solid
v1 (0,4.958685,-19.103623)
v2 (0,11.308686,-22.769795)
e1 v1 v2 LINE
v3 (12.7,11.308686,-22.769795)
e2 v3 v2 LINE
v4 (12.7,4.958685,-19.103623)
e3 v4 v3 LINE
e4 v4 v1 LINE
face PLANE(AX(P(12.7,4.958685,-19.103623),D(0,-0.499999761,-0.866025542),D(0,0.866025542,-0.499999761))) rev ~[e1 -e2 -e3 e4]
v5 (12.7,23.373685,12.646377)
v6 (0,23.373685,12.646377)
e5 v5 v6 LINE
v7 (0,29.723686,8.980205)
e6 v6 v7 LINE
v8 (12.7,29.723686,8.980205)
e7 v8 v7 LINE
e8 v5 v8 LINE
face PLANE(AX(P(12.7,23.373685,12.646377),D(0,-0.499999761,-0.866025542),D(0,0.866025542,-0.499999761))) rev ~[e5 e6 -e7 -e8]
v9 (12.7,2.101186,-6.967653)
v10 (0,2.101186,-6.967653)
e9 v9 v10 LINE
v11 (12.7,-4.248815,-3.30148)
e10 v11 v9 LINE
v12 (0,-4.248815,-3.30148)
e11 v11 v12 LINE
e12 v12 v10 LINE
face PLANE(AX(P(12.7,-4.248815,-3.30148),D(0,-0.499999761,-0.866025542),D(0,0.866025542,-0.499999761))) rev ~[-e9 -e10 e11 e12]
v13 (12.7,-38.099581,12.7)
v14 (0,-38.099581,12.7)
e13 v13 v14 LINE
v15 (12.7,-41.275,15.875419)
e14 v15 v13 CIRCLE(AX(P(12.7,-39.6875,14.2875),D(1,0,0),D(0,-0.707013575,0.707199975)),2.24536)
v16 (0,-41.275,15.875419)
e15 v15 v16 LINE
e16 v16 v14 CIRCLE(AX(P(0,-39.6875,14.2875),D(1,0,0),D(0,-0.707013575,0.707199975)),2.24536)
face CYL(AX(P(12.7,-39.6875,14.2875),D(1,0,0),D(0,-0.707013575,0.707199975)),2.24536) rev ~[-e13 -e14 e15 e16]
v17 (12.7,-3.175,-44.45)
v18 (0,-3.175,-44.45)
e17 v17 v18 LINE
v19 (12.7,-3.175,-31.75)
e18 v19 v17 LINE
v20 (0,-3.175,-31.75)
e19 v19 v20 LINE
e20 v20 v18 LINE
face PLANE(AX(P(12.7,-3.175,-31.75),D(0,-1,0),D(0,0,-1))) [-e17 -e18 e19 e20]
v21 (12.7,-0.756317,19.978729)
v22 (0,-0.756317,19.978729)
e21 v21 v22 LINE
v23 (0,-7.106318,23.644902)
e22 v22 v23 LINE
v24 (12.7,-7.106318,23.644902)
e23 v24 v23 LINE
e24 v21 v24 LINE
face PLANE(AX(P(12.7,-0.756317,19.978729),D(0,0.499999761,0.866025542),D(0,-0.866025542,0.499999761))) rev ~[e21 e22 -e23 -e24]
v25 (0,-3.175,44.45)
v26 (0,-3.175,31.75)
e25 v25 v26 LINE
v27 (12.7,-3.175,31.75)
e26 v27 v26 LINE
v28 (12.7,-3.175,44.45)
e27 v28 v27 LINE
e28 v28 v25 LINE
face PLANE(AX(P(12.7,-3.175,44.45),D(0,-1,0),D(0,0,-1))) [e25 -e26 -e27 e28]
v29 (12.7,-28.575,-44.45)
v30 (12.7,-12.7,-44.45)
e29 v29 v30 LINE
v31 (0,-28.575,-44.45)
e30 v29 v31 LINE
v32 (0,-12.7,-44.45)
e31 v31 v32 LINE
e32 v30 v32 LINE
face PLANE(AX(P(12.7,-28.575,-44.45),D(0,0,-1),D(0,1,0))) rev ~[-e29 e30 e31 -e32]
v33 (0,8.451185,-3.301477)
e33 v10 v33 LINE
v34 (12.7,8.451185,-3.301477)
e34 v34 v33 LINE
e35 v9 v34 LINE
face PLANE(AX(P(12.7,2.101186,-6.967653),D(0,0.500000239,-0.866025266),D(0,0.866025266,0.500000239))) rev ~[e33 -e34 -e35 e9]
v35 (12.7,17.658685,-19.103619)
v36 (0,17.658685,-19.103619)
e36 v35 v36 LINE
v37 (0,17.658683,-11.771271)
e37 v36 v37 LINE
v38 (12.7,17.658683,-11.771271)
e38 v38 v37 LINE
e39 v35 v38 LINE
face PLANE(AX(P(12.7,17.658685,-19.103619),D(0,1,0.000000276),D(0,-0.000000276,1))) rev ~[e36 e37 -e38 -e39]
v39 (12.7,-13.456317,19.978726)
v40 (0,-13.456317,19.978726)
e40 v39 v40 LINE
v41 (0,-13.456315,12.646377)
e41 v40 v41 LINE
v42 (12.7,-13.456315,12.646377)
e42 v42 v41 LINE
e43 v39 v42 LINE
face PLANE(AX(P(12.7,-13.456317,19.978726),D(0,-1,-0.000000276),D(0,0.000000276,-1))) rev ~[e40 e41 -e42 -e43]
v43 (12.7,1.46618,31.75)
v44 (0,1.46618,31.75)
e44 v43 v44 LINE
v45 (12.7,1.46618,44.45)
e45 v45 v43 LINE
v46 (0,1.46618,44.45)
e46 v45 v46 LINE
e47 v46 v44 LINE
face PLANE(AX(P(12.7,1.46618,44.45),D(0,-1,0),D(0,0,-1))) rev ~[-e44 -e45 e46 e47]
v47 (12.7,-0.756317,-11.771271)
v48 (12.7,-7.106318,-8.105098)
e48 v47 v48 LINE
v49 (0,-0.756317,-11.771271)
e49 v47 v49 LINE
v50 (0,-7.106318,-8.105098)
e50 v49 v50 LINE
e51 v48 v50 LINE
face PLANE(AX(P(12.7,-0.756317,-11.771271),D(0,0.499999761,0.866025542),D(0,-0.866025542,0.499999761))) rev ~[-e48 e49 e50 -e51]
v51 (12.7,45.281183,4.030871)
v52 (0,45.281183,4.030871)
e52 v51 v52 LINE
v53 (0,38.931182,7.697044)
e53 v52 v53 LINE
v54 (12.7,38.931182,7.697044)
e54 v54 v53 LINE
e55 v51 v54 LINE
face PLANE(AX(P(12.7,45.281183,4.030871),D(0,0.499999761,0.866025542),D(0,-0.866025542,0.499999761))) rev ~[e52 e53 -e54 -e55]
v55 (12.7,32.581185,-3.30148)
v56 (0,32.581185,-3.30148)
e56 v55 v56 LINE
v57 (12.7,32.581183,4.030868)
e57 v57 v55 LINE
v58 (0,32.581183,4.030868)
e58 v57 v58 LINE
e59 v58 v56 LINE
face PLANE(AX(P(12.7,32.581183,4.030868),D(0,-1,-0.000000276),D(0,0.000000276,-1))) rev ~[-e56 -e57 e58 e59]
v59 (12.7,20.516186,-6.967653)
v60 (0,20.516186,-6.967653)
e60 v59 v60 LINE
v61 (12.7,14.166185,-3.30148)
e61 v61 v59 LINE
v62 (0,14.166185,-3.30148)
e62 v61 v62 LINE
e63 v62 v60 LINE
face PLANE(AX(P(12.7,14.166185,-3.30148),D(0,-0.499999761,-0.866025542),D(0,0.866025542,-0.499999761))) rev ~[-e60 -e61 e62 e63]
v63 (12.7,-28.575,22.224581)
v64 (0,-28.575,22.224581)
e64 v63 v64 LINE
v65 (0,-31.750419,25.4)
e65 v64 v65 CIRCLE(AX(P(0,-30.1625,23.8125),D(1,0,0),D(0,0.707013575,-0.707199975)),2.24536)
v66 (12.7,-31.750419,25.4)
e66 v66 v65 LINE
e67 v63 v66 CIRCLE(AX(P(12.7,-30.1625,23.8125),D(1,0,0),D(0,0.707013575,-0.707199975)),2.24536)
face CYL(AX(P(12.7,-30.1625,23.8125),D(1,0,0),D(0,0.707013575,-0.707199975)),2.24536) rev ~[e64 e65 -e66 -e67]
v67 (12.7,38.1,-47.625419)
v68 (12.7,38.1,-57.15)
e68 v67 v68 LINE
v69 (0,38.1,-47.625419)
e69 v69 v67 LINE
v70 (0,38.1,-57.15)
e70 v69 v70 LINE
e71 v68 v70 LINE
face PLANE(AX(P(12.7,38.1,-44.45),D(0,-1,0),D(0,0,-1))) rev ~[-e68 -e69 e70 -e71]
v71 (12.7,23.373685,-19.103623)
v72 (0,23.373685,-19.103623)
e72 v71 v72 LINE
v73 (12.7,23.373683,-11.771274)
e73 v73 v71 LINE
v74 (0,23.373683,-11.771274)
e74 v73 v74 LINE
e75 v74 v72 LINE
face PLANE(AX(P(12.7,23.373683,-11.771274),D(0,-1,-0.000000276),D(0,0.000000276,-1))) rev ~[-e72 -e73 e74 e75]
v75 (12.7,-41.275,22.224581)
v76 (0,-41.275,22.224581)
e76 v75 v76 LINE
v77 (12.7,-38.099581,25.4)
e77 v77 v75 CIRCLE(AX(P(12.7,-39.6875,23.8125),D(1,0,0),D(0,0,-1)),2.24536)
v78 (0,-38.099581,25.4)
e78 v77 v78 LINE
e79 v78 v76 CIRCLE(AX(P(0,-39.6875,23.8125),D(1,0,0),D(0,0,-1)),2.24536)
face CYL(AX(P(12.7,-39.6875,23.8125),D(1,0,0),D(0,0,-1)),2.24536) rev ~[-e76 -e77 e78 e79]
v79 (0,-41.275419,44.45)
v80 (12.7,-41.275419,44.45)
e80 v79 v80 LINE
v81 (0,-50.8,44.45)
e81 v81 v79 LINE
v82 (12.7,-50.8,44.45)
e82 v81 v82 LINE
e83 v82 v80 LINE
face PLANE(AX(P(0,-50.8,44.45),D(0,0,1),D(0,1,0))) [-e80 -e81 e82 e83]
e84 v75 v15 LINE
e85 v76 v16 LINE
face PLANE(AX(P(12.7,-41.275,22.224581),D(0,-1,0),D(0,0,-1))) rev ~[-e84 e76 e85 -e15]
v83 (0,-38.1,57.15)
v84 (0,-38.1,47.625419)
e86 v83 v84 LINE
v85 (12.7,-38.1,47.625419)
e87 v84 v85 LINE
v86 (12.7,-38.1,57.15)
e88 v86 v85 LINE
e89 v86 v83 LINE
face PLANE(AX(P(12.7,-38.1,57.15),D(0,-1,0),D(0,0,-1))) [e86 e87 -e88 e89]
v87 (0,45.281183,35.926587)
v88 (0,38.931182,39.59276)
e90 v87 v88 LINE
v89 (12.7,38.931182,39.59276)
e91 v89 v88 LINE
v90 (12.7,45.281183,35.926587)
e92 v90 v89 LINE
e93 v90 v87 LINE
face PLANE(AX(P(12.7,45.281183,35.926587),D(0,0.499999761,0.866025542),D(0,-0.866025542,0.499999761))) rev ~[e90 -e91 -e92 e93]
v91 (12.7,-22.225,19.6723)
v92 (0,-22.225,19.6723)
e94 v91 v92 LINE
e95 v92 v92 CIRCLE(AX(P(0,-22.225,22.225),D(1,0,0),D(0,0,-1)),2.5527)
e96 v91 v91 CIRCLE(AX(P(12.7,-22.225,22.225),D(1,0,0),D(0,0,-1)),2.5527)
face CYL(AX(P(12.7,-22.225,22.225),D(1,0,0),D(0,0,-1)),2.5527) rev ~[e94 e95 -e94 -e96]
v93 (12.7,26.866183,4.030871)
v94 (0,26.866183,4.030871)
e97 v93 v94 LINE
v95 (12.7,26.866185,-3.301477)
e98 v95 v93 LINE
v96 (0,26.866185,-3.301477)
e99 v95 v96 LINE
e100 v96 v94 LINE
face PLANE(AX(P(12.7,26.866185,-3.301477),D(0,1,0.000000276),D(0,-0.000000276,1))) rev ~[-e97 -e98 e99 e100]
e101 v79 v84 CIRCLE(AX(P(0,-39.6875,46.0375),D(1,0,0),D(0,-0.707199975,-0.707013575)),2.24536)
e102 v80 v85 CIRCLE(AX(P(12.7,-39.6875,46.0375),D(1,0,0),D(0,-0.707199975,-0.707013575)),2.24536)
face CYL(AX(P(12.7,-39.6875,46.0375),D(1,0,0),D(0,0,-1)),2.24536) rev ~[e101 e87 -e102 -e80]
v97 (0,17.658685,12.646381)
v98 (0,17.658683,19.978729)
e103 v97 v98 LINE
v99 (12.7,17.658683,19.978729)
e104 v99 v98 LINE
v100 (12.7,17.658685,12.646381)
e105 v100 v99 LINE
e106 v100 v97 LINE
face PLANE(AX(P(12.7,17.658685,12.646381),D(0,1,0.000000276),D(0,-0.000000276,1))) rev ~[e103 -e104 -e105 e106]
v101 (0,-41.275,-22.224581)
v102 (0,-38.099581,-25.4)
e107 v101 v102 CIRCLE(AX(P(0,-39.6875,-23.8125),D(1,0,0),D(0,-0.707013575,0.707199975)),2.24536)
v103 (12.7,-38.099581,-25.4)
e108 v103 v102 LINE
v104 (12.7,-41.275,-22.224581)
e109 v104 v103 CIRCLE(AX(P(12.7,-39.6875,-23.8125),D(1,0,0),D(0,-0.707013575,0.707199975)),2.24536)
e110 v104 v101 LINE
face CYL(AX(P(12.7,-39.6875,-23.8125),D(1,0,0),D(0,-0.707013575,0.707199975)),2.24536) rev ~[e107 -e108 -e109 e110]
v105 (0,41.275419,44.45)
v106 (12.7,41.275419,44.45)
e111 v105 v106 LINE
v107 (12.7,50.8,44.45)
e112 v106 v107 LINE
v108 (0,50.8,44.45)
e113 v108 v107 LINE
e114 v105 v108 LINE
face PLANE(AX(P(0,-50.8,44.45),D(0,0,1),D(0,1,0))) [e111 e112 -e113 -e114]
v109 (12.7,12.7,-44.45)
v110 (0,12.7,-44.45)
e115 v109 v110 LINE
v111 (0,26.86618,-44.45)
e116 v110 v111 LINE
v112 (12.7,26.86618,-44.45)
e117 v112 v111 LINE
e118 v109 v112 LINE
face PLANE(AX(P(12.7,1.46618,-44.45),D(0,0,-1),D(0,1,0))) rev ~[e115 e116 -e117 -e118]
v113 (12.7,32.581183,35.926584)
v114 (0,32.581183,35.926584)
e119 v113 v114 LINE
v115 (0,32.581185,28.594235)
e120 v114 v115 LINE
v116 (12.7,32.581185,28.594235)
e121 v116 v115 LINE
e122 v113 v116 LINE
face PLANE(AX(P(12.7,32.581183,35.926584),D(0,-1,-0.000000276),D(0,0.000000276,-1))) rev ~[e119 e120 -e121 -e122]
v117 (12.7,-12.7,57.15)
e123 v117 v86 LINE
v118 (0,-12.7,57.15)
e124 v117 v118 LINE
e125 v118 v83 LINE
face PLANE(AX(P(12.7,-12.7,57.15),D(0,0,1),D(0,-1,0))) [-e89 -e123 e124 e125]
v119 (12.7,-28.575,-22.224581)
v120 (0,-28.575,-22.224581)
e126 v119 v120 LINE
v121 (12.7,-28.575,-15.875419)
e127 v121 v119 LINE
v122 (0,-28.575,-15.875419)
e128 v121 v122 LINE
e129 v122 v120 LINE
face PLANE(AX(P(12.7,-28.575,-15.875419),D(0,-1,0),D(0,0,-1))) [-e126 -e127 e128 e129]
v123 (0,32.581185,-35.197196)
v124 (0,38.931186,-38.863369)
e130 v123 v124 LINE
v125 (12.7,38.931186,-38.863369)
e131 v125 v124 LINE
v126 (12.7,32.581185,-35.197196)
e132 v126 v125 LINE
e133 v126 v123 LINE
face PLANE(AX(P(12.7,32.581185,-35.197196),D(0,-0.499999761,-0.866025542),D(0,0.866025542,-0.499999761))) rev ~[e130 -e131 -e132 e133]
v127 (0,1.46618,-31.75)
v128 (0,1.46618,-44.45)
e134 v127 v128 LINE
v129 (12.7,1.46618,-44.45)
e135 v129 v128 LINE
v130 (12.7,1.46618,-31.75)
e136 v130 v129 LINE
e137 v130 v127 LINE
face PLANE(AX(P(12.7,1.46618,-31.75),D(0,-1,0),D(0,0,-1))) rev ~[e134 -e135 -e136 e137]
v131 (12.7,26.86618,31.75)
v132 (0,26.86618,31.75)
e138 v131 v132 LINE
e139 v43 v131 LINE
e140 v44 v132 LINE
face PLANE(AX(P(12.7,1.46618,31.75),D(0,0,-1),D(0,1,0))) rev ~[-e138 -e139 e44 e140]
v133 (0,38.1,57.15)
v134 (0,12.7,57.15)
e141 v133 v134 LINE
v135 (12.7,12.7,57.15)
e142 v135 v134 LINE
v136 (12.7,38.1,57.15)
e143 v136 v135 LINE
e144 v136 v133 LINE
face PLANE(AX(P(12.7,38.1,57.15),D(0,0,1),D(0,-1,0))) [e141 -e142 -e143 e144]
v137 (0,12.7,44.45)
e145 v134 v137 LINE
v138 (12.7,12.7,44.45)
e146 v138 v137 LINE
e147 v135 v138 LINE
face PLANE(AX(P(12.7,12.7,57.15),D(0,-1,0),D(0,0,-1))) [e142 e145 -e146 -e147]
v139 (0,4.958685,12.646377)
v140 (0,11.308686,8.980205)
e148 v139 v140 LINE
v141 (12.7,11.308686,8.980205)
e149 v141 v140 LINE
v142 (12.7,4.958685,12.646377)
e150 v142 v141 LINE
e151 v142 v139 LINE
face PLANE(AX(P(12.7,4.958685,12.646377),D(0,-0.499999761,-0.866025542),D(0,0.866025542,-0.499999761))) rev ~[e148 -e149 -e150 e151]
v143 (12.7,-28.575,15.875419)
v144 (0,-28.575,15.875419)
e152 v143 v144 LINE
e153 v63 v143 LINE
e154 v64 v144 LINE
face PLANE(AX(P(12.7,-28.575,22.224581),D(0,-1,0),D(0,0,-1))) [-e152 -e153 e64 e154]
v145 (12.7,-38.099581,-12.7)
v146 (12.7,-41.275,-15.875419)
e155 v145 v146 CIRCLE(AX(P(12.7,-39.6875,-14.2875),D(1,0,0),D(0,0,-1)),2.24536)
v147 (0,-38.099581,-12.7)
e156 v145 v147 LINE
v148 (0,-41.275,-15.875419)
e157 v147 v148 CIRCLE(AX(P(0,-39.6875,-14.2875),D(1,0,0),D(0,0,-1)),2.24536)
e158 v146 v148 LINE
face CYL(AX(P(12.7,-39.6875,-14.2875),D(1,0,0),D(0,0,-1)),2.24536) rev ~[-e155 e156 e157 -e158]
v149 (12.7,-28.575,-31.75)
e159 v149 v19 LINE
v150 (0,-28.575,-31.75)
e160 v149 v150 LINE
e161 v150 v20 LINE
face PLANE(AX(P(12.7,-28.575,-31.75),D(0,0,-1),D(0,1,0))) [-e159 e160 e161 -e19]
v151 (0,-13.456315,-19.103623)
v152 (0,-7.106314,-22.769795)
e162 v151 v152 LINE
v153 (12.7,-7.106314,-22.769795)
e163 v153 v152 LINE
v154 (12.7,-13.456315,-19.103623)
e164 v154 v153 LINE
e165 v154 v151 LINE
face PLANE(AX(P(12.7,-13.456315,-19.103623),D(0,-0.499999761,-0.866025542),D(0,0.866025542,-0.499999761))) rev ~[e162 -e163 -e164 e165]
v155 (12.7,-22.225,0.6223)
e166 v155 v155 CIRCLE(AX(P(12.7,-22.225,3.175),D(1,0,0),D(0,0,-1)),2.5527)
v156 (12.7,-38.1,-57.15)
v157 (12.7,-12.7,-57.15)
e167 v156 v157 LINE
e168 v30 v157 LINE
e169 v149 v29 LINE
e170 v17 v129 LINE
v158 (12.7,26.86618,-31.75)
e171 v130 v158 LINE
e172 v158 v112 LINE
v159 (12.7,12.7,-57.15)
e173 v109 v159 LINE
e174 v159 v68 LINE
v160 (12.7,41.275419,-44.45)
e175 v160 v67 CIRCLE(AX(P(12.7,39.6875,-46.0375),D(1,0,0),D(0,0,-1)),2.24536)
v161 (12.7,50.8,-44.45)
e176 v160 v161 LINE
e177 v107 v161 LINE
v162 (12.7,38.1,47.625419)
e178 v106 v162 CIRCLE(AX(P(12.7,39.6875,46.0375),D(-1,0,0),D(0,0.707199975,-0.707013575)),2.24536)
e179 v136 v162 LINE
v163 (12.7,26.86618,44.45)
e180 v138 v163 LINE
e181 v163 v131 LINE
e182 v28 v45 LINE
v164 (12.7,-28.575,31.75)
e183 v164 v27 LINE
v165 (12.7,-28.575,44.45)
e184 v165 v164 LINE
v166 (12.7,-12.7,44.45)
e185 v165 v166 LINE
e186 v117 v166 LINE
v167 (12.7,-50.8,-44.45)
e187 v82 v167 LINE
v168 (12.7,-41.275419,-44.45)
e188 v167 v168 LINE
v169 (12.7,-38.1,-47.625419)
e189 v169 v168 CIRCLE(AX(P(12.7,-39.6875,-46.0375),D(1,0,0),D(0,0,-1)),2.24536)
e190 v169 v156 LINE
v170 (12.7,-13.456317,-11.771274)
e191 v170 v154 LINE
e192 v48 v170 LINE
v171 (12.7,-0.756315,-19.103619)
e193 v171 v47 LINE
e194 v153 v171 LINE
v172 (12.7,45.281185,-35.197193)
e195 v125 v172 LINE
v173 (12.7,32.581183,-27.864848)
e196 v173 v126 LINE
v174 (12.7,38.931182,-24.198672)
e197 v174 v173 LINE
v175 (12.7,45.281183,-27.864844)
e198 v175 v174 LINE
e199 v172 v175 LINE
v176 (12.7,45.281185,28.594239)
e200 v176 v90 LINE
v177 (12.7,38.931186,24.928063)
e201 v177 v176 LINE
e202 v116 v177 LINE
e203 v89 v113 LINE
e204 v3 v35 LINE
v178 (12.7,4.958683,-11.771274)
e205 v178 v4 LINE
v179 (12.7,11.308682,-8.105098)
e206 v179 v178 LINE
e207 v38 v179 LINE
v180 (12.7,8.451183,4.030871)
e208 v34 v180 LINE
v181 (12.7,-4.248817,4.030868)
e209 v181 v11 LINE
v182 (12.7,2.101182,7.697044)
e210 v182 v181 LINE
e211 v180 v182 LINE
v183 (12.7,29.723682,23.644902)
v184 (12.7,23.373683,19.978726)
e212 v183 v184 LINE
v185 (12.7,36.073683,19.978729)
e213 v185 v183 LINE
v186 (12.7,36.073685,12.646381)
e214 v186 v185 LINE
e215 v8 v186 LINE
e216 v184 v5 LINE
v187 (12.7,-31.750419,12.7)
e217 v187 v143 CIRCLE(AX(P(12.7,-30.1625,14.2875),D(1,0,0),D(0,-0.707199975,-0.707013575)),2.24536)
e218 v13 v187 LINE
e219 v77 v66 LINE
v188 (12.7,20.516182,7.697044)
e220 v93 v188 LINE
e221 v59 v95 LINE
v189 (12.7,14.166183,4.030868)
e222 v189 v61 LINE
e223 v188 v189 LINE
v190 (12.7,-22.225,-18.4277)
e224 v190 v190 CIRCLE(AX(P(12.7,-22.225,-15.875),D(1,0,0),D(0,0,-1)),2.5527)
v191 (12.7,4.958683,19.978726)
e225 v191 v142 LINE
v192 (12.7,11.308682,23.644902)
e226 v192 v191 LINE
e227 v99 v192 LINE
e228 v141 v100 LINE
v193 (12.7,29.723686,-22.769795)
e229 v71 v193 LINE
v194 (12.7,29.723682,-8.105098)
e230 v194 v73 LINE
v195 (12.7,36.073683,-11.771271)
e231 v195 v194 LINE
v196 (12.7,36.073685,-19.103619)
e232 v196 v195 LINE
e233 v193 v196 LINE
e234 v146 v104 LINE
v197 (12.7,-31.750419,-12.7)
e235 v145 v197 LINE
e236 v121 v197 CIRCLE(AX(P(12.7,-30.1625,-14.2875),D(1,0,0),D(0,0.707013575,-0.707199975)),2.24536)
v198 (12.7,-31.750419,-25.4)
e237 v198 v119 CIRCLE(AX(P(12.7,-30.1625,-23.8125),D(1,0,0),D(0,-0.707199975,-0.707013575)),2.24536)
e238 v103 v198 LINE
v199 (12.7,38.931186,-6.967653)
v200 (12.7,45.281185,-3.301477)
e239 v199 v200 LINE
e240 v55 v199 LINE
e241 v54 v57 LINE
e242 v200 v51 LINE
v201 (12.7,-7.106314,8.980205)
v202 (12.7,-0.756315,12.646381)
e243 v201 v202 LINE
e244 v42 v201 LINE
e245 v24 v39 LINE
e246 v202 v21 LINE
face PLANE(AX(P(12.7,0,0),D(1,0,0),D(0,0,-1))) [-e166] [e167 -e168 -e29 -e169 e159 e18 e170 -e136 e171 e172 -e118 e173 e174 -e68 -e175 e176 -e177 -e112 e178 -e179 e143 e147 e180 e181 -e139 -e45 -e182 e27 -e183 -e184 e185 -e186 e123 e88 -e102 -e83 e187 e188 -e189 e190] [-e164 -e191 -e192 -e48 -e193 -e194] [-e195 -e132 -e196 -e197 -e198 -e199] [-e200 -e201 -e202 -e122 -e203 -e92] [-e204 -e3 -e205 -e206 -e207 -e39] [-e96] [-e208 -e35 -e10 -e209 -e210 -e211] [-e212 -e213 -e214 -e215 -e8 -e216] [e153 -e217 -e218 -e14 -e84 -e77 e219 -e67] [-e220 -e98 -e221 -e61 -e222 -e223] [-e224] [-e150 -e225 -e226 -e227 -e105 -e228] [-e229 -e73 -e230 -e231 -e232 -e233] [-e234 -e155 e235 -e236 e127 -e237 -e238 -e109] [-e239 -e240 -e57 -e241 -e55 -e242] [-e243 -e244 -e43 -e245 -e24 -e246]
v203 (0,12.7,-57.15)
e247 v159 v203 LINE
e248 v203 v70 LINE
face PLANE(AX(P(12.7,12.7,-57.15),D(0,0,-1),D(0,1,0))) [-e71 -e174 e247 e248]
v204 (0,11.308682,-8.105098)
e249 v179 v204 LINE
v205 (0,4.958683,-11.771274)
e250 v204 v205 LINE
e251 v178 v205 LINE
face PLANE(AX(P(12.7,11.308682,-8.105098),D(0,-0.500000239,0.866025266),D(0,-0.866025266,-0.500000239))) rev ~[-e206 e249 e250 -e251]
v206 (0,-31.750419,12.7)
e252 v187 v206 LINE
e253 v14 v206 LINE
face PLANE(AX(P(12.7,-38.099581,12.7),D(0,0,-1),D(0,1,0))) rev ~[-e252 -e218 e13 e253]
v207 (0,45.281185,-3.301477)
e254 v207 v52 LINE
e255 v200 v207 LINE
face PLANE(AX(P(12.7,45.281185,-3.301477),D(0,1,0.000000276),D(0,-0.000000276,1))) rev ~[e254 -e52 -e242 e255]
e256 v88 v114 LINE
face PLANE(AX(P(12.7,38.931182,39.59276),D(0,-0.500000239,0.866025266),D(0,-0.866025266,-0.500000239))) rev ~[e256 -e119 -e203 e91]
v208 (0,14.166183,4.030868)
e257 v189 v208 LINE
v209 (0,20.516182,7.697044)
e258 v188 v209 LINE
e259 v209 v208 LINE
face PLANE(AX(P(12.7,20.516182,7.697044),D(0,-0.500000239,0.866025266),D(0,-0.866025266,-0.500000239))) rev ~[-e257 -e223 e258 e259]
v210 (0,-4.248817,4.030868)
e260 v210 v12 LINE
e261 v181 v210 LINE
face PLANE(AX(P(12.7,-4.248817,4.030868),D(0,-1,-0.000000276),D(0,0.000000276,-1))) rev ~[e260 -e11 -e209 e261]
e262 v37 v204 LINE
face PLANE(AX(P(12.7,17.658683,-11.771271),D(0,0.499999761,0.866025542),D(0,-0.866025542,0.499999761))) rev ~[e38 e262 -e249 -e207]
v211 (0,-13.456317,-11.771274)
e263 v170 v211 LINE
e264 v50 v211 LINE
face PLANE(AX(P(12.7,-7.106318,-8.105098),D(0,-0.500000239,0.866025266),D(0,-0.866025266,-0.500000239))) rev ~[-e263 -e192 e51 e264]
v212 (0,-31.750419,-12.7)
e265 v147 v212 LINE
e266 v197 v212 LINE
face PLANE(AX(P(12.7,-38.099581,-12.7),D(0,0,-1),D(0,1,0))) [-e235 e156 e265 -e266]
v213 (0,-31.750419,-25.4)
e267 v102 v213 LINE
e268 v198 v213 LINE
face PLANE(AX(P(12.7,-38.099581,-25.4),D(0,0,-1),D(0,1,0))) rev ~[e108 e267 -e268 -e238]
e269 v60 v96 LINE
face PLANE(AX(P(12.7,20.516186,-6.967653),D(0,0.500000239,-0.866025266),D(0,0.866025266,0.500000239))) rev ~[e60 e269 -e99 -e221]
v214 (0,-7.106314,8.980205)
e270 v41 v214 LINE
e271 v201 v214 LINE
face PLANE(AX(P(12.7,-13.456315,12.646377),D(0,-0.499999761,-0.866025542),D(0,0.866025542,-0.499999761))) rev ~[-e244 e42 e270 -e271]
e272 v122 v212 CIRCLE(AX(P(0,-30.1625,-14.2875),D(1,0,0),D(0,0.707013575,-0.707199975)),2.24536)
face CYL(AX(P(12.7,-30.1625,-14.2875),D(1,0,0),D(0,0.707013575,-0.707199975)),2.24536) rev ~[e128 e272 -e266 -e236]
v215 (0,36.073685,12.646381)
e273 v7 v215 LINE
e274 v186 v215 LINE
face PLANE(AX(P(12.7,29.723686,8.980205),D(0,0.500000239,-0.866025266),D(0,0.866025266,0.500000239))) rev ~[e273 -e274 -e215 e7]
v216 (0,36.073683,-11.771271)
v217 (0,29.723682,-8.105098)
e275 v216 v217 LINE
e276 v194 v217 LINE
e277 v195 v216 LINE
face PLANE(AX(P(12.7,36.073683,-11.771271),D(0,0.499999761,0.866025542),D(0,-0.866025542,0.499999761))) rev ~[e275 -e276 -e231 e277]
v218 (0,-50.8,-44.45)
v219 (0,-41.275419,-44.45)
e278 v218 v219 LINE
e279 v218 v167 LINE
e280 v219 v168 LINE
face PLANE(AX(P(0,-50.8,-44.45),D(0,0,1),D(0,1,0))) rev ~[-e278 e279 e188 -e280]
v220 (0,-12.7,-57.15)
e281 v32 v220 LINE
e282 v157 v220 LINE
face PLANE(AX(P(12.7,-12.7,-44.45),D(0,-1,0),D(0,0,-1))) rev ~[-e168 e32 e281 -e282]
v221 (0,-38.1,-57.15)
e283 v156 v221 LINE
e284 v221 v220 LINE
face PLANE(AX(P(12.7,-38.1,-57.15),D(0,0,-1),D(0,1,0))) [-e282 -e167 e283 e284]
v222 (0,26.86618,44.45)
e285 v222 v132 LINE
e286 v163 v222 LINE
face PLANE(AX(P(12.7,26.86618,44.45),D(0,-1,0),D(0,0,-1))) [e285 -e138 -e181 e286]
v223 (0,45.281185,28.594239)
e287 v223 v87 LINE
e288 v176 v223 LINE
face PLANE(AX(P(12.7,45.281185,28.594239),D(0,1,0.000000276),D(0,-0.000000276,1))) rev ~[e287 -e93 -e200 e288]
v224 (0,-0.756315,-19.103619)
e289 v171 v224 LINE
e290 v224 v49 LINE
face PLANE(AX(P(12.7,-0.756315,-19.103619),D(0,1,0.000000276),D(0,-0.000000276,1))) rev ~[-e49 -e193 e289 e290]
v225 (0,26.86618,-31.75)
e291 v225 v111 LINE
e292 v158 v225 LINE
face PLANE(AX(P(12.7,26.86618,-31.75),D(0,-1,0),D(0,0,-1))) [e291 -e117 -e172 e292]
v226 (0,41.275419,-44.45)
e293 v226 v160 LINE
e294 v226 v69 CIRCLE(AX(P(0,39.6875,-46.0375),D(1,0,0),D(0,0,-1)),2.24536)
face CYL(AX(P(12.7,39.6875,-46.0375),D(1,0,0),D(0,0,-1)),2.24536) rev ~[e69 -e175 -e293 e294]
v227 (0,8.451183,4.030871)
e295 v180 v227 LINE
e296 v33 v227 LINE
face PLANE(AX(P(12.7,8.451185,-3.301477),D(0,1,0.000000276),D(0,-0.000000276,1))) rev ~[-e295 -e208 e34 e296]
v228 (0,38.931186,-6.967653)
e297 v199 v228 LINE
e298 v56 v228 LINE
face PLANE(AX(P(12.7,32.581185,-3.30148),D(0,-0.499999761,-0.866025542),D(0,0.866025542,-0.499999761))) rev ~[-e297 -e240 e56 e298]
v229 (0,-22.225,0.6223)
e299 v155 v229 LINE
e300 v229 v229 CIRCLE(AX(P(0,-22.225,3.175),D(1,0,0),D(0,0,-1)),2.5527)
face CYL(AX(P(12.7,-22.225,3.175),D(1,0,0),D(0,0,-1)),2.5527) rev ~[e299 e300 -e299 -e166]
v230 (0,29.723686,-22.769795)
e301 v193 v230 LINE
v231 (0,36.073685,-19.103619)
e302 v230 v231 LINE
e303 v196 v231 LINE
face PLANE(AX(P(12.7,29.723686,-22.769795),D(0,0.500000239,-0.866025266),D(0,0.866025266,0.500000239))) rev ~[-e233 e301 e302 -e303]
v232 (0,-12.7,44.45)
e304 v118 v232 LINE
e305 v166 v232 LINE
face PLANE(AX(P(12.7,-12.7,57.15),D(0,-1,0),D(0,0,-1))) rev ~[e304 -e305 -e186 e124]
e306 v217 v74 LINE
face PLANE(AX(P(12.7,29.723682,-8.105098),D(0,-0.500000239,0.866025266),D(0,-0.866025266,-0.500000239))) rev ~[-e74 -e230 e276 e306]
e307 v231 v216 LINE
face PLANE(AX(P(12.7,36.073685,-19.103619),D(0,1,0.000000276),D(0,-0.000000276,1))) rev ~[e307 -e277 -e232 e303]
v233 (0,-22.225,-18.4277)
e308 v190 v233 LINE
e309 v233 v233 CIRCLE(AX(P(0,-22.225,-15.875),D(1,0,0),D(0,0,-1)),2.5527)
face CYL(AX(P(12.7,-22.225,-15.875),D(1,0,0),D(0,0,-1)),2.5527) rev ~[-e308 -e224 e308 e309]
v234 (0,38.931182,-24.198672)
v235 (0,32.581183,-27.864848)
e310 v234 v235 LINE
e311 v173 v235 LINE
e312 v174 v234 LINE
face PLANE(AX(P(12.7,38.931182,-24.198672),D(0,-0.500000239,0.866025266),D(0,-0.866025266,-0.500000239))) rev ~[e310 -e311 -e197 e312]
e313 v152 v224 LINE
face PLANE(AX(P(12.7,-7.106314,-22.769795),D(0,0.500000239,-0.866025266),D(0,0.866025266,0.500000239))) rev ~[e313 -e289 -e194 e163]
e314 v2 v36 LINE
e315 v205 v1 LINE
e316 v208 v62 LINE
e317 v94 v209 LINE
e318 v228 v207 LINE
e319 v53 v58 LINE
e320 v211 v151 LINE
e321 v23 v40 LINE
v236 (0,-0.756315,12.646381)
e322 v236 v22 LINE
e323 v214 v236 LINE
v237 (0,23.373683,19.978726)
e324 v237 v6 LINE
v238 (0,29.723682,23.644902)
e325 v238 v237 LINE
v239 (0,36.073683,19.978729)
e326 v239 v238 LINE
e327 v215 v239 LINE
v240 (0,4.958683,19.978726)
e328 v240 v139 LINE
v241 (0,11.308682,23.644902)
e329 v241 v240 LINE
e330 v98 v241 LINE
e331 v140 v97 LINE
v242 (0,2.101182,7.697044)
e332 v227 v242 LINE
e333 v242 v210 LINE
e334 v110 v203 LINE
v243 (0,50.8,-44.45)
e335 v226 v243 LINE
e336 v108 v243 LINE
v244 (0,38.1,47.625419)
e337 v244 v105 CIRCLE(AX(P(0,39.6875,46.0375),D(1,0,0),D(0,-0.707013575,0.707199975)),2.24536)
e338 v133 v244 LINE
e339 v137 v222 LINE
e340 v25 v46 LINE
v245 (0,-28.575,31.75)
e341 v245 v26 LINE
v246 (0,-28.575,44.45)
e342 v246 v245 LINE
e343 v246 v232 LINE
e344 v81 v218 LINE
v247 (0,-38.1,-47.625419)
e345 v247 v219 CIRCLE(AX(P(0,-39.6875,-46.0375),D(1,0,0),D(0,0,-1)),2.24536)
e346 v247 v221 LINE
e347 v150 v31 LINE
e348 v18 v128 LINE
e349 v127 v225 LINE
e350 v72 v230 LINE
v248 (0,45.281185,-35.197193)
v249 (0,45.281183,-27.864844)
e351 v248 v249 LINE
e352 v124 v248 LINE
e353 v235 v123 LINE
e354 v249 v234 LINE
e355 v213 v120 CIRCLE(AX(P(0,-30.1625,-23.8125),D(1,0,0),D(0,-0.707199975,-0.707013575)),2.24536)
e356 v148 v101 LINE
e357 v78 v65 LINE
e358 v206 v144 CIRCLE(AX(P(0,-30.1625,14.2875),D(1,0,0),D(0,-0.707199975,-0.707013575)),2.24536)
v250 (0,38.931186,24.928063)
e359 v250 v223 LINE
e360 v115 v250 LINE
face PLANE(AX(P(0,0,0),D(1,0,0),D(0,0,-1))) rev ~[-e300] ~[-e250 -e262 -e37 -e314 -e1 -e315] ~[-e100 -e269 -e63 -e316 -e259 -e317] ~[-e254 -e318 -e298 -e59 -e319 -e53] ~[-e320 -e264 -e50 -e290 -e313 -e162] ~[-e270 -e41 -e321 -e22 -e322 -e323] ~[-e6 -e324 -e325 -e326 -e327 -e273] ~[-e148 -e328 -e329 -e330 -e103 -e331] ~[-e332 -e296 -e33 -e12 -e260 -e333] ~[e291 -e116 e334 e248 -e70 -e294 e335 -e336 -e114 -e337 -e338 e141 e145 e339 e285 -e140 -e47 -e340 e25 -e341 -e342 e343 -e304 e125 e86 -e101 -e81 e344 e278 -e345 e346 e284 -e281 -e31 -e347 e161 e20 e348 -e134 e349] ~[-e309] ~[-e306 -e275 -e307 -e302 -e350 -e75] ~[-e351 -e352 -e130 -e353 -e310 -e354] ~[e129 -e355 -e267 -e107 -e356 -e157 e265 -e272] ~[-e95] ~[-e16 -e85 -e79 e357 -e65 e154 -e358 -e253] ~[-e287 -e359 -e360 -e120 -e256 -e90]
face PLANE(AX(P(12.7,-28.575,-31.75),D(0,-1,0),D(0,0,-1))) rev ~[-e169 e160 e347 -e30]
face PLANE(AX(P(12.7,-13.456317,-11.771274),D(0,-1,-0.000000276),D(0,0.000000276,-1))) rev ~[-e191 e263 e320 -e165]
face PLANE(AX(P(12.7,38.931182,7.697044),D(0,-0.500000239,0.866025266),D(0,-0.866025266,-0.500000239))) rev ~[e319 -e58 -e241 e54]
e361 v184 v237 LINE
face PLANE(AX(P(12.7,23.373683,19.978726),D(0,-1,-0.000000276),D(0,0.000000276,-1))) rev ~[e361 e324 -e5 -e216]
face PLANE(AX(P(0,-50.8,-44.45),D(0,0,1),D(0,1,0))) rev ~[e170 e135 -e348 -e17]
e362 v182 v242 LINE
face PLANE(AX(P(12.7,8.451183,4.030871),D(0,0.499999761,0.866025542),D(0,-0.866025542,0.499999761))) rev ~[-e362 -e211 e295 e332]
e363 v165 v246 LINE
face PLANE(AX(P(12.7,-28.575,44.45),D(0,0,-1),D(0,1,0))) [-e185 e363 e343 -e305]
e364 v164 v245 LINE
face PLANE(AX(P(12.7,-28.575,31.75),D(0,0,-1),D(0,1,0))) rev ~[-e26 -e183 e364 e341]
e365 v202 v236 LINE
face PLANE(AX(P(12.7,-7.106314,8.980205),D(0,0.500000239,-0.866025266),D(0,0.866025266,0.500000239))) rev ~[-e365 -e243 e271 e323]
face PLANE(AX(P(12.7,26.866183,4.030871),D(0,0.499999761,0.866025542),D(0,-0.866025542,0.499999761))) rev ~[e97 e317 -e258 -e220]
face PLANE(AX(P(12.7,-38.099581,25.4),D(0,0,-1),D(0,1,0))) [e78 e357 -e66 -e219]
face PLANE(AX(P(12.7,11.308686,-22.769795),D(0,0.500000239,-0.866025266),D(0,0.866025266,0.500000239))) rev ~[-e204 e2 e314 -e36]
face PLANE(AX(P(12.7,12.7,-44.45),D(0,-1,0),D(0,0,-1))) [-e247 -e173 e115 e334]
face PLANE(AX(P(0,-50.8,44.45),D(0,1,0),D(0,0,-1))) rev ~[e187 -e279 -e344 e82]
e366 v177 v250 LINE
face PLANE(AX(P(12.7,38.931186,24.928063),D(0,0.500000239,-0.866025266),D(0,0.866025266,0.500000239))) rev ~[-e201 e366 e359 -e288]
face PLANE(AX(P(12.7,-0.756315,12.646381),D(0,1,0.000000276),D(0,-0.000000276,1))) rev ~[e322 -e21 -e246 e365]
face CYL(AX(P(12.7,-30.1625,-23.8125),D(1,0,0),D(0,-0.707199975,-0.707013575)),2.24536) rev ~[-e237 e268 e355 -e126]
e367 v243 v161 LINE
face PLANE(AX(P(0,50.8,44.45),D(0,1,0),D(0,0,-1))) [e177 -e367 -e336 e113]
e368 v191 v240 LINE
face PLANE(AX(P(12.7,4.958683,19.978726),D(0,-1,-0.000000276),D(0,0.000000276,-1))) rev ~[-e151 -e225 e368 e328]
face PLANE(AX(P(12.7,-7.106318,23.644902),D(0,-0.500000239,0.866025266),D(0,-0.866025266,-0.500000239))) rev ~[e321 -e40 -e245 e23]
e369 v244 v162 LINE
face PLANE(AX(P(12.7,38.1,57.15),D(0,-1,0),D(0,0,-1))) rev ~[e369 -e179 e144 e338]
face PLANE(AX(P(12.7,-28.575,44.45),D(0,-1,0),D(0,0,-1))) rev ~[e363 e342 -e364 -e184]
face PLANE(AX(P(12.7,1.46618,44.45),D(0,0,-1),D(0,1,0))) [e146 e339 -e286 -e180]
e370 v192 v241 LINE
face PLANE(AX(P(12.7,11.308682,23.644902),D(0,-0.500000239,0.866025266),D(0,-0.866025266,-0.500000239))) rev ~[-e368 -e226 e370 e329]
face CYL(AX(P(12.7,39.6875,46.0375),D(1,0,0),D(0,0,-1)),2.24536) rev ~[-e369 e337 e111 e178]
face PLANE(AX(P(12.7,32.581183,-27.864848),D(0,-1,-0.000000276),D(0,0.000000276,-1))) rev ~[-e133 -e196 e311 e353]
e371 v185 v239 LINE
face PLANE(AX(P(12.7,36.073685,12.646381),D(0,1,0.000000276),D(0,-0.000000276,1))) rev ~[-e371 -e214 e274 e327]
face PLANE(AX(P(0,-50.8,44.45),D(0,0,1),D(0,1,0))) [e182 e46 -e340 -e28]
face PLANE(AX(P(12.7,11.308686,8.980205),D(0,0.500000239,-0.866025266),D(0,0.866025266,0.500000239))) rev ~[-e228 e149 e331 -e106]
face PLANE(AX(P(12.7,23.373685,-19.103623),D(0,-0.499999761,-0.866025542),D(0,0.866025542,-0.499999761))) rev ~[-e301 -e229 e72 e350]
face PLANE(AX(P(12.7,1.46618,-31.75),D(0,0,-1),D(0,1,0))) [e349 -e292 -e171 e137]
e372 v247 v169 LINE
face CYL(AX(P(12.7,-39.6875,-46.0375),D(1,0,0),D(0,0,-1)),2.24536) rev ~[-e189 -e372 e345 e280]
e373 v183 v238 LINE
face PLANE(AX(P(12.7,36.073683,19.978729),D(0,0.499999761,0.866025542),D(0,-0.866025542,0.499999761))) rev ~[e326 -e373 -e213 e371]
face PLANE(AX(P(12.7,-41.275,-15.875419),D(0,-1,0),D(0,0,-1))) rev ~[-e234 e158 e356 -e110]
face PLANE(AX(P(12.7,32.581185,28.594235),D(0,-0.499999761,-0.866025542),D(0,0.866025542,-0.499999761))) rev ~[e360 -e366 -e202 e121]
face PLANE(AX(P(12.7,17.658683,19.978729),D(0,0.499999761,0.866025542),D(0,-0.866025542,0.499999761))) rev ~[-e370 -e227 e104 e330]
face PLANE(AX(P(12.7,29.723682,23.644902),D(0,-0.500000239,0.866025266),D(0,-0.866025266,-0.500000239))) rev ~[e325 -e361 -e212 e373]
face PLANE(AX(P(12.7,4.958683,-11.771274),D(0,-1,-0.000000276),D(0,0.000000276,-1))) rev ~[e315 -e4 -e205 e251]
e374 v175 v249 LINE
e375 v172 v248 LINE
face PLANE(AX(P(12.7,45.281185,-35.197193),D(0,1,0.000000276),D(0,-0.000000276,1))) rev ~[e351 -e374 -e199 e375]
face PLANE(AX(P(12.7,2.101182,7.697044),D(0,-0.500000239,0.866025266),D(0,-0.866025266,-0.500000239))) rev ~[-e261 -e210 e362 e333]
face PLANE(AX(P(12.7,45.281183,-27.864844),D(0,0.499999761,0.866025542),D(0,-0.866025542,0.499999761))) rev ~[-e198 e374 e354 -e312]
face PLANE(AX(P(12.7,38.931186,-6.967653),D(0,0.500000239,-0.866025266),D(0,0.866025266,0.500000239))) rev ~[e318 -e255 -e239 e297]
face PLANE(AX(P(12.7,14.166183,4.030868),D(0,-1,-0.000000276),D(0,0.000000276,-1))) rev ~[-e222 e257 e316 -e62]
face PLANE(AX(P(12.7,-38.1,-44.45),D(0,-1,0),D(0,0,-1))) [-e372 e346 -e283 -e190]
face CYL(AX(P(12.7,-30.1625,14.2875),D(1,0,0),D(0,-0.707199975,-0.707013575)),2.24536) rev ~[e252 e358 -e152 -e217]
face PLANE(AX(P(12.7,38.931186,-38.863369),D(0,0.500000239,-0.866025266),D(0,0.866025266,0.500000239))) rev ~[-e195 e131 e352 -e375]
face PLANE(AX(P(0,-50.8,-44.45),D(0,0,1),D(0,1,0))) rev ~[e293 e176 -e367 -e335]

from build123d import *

# Parameters (mm, degrees)
SKETCH3_W                 = 88.9
SKETCH3_H                 = 101.6
SQUARE_EXTRUSION_DEPTH    = 12.7
SKETCH4_R                 = 2.24536
SKETCH4_W                 = 12.7
SKETCH4_H                 = 12.7
SLOTTING_HOLES_DEPTH      = 12.7
HONEYCOMB_POCKETING_DEPTH = 12.7
SKETCH10_W                = 12.7
SKETCH10_H                = 12.7
SIDE_SLOTS_DEPTH          = 12.7
SKETCH12_R                = 2.5527
SKETCH12_R_2              = 2.24536
CUT_EXTRUDE1_DEPTH        = 78.51162816
SKETCH14_W                = 12.7
SKETCH14_H                = 25.4
CUT_EXTRUDE4_DEPTH        = 78.51162816


with BuildPart() as part:
    # Sketch3 → Square Extrusion (new body)
    with BuildSketch(Plane(origin=(0, 0, 0), x_dir=(0, 0, -1), z_dir=(1, 0, 0))):
        Rectangle(SKETCH3_W, SKETCH3_H)
    extrude(amount=SQUARE_EXTRUSION_DEPTH)

    # Sketch4 → Slotting Holes (cut)
    with BuildSketch(Plane(origin=(12.7, 0, 0), x_dir=(0, 0, -1), z_dir=(1, 0, 0))):
        with BuildLine():
            ThreePointArc((-22.224581463, -28.575), (-25.400209282, -28.574790718), (-25.4, -31.750418537))
            Line((-25.4, -31.750418537), (-25.4, -28.575))
            Line((-25.4, -28.575), (-22.224581463, -28.575))
        make_face()
        with BuildLine():
            Line((-25.4, -28.575), (-25.4, -31.750418537))
            ThreePointArc((-25.4, -31.750418537), (-22.953101219, -32.236885515), (-21.56714, -30.1625))
            ThreePointArc((-21.56714, -30.1625), (-21.73800123, -29.303374641), (-22.224581463, -28.575))
            Line((-22.224581463, -28.575), (-25.4, -28.575))
        make_face()
        with Locations((-23.8125, -39.6875)):
            Circle(SKETCH4_R)
        with Locations((-14.2875, -39.6875)):
            Circle(SKETCH4_R)
        with Locations((-14.2875, -30.1625)):
            Circle(SKETCH4_R)
        with Locations((-23.8125, -30.1625)):
            Circle(SKETCH4_R)
        with Locations((-19.05, -34.925)):
            Rectangle(SKETCH4_W, SKETCH4_H)
        with BuildLine():
            ThreePointArc((-15.875418537, -28.575), (-15.875209282, -31.750209282), (-12.7, -31.750418537))
            Line((-12.7, -31.750418537), (-12.7, -28.575))
            Line((-12.7, -28.575), (-15.875418537, -28.575))
        make_face()
        with BuildLine():
            Line((-12.7, -28.575), (-12.7, -31.750418537))
            ThreePointArc((-12.7, -31.750418537), (-12.213114485, -31.021898781), (-12.04214, -30.1625))
            ThreePointArc((-12.04214, -30.1625), (-13.428374641, -28.08800123), (-15.875418537, -28.575))
            Line((-15.875418537, -28.575), (-12.7, -28.575))
        make_face()
        with BuildLine():
            Line((-25.4, -38.099581463), (-25.4, -41.275))
            Line((-25.4, -41.275), (-22.224581463, -41.275))
            ThreePointArc((-22.224581463, -41.275), (-21.73800123, -40.546625359), (-21.56714, -39.6875))
            ThreePointArc((-21.56714, -39.6875), (-22.953101219, -37.613114485), (-25.4, -38.099581463))
        make_face()
        with BuildLine():
            Line((-22.224581463, -41.275), (-25.4, -41.275))
            Line((-25.4, -41.275), (-25.4, -38.099581463))
            ThreePointArc((-25.4, -38.099581463), (-25.400209282, -41.275209282), (-22.224581463, -41.275))
        make_face()
        with BuildLine():
            ThreePointArc((-12.7, -38.099581463), (-15.875209282, -38.099790718), (-15.875418537, -41.275))
            Line((-15.875418537, -41.275), (-12.7, -41.275))
            Line((-12.7, -41.275), (-12.7, -38.099581463))
        make_face()
        with BuildLine():
            Line((-12.7, -41.275), (-15.875418537, -41.275))
            ThreePointArc((-15.875418537, -41.275), (-13.428374641, -41.76199877), (-12.04214, -39.6875))
            ThreePointArc((-12.04214, -39.6875), (-12.213114485, -38.828101219), (-12.7, -38.099581463))
            Line((-12.7, -38.099581463), (-12.7, -41.275))
        make_face()
        with BuildLine():
            ThreePointArc((16.53286, -30.1625), (16.36199877, -29.303374641), (15.875418537, -28.575))
            Line((15.875418537, -28.575), (12.7, -28.575))
            Line((12.7, -28.575), (12.7, -31.750418537))
            ThreePointArc((12.7, -31.750418537), (15.146898781, -32.236885515), (16.53286, -30.1625))
        make_face()
        with BuildLine():
            Line((12.7, -28.575), (15.875418537, -28.575))
            ThreePointArc((15.875418537, -28.575), (12.699790718, -28.574790718), (12.7, -31.750418537))
            Line((12.7, -31.750418537), (12.7, -28.575))
        make_face()
        with Locations((23.8125, -30.1625)):
            Circle(SKETCH4_R)
        with Locations((14.2875, -30.1625)):
            Circle(SKETCH4_R)
        with Locations((14.2875, -39.6875)):
            Circle(SKETCH4_R)
        with Locations((23.8125, -39.6875)):
            Circle(SKETCH4_R)
        with Locations((19.05, -34.925)):
            Rectangle(SKETCH4_W, SKETCH4_H)
        with BuildLine():
            Line((25.4, -31.750418537), (25.4, -28.575))
            Line((25.4, -28.575), (22.224581463, -28.575))
            ThreePointArc((22.224581463, -28.575), (22.224790718, -31.750209282), (25.4, -31.750418537))
        make_face()
        with BuildLine():
            Line((22.224581463, -28.575), (25.4, -28.575))
            Line((25.4, -28.575), (25.4, -31.750418537))
            ThreePointArc((25.4, -31.750418537), (25.886885515, -31.021898781), (26.05786, -30.1625))
            ThreePointArc((26.05786, -30.1625), (24.671625359, -28.08800123), (22.224581463, -28.575))
        make_face()
        with BuildLine():
            ThreePointArc((26.05786, -39.6875), (25.886885515, -38.828101219), (25.4, -38.099581463))
            Line((25.4, -38.099581463), (25.4, -41.275))
            Line((25.4, -41.275), (22.224581463, -41.275))
            ThreePointArc((22.224581463, -41.275), (24.671625359, -41.76199877), (26.05786, -39.6875))
        make_face()
        with BuildLine():
            Line((25.4, -41.275), (25.4, -38.099581463))
            ThreePointArc((25.4, -38.099581463), (22.224790718, -38.099790718), (22.224581463, -41.275))
            Line((22.224581463, -41.275), (25.4, -41.275))
        make_face()
        with BuildLine():
            ThreePointArc((16.53286, -39.6875), (15.146898781, -37.613114485), (12.7, -38.099581463))
            Line((12.7, -38.099581463), (12.7, -41.275))
            Line((12.7, -41.275), (15.875418537, -41.275))
            ThreePointArc((15.875418537, -41.275), (16.36199877, -40.546625359), (16.53286, -39.6875))
        make_face()
        with BuildLine():
            Line((12.7, -41.275), (12.7, -38.099581463))
            ThreePointArc((12.7, -38.099581463), (12.699790718, -41.275209282), (15.875418537, -41.275))
            Line((15.875418537, -41.275), (12.7, -41.275))
        make_face()
    extrude(amount=-SLOTTING_HOLES_DEPTH, mode=Mode.SUBTRACT)

    # Sketch9 → Honeycomb Pocketing (cut)
    with BuildSketch(Plane(origin=(12.7, 0, 0), x_dir=(0, 0, -1), z_dir=(1, 0, 0))):
        Polygon((-35.926583558, 32.58118298), (-28.594235139, 32.581185003), (-24.928062682, 38.931186014), (-28.594238643, 45.281185003), (-35.926587062, 45.28118298), (-39.592759519, 38.931181968), align=None)
        Polygon((-4.030867936, 32.58118298), (3.301480483, 32.581185003), (6.96765294, 38.931186014), (3.301476978, 45.281185003), (-4.03087144, 45.28118298), (-7.697043898, 38.931181968), align=None)
        Polygon((27.864847685, 32.58118298), (35.197196104, 32.581185003), (38.863368561, 38.931186014), (35.1971926, 45.281185003), (27.864844181, 45.28118298), (24.198671724, 38.931181968), align=None)
        Polygon((-19.978725747, 23.37368298), (-12.646377328, 23.373685003), (-8.980204871, 29.723686014), (-12.646380832, 36.073685003), (-19.978729251, 36.07368298), (-23.644901708, 29.723681968), align=None)
        Polygon((11.771274253, 23.37368298), (19.103622672, 23.373685003), (22.769795129, 29.723686014), (19.103619168, 36.073685003), (11.771270749, 36.07368298), (8.105098292, 29.723681968), align=None)
        Polygon((-4.030867936, 14.16618298), (3.301480483, 14.166185003), (6.96765294, 20.516186014), (3.301476978, 26.866185003), (-4.03087144, 26.86618298), (-7.697043898, 20.516181968), align=None)
        Polygon((-19.978725747, 4.95868298), (-12.646377328, 4.958685003), (-8.980204871, 11.308686014), (-12.646380832, 17.658685003), (-19.978729251, 17.65868298), (-23.644901708, 11.308681968), align=None)
        Polygon((11.771274253, 4.95868298), (19.103622672, 4.958685003), (22.769795129, 11.308686014), (19.103619168, 17.658685003), (11.771270749, 17.65868298), (8.105098292, 11.308681968), align=None)
        Polygon((-4.030867936, -4.24881702), (3.301480483, -4.248814997), (6.96765294, 2.101186014), (3.301476978, 8.451185003), (-4.03087144, 8.45118298), (-7.697043898, 2.101181968), align=None)
        Polygon((-19.978725747, -13.45631702), (-12.646377328, -13.456314997), (-8.980204871, -7.106313986), (-12.646380832, -0.756314997), (-19.978729251, -0.75631702), (-23.644901708, -7.106318032), align=None)
        Polygon((11.771274253, -13.45631702), (19.103622672, -13.456314997), (22.769795129, -7.106313986), (19.103619168, -0.756314997), (11.771270749, -0.75631702), (8.105098292, -7.106318032), align=None)
    extrude(amount=-HONEYCOMB_POCKETING_DEPTH, mode=Mode.SUBTRACT)

    # Sketch10 → Side Slots (add)
    with BuildSketch(Plane(origin=(12.7, 0, 0), x_dir=(0, 0, -1), z_dir=(1, 0, 0))):
        with Locations((-50.8, 31.75)):
            Rectangle(SKETCH10_W, SKETCH10_H)
        with Locations((-50.8, 19.05)):
            Rectangle(SKETCH10_W, SKETCH10_H)
        with Locations((-50.8, -19.05)):
            Rectangle(SKETCH10_W, SKETCH10_H)
        with Locations((-50.8, -31.75)):
            Rectangle(SKETCH10_W, SKETCH10_H)
        with Locations((50.8, -19.05)):
            Rectangle(SKETCH10_W, SKETCH10_H)
        with Locations((50.8, -31.75)):
            Rectangle(SKETCH10_W, SKETCH10_H)
        with Locations((50.8, 19.05)):
            Rectangle(SKETCH10_W, SKETCH10_H)
        with Locations((50.8, 31.75)):
            Rectangle(SKETCH10_W, SKETCH10_H)
    extrude(amount=-SIDE_SLOTS_DEPTH)

    # Sketch12 → Cut-Extrude1 (cut, through all)
    with BuildSketch(Plane(origin=(12.7, 0, 0), x_dir=(0, 0, -1), z_dir=(1, 0, 0))):
        with Locations((-22.225, -22.225)):
            Circle(SKETCH12_R)
        with Locations((-3.175, -22.225)):
            Circle(SKETCH12_R)
        with Locations((15.875, -22.225)):
            Circle(SKETCH12_R)
        with Locations((-46.0375, 39.6875)):
            Circle(SKETCH12_R_2)
        with Locations((46.0375, 39.6875)):
            Circle(SKETCH12_R_2)
        with Locations((46.0375, -39.6875)):
            Circle(SKETCH12_R_2)
        with Locations((-46.0375, -39.6875)):
            Circle(SKETCH12_R_2)
    extrude(amount=-CUT_EXTRUDE1_DEPTH, mode=Mode.SUBTRACT)

    # Sketch14 → Cut-Extrude4 (cut, through all)
    with BuildSketch(Plane(origin=(12.7, 0, 0), x_dir=(0, 0, -1), z_dir=(1, 0, 0))):
        with Locations((-38.1, -15.875)):
            Rectangle(SKETCH14_W, SKETCH14_H)
        with Locations((-38.1, 14.16618)):
            Rectangle(SKETCH14_W, SKETCH14_H)
        with Locations((38.1, -15.875)):
            Rectangle(SKETCH14_W, SKETCH14_H)
        with Locations((38.1, 14.16618)):
            Rectangle(SKETCH14_W, SKETCH14_H)
    extrude(amount=-CUT_EXTRUDE4_DEPTH, mode=Mode.SUBTRACT)


solid = part.part
